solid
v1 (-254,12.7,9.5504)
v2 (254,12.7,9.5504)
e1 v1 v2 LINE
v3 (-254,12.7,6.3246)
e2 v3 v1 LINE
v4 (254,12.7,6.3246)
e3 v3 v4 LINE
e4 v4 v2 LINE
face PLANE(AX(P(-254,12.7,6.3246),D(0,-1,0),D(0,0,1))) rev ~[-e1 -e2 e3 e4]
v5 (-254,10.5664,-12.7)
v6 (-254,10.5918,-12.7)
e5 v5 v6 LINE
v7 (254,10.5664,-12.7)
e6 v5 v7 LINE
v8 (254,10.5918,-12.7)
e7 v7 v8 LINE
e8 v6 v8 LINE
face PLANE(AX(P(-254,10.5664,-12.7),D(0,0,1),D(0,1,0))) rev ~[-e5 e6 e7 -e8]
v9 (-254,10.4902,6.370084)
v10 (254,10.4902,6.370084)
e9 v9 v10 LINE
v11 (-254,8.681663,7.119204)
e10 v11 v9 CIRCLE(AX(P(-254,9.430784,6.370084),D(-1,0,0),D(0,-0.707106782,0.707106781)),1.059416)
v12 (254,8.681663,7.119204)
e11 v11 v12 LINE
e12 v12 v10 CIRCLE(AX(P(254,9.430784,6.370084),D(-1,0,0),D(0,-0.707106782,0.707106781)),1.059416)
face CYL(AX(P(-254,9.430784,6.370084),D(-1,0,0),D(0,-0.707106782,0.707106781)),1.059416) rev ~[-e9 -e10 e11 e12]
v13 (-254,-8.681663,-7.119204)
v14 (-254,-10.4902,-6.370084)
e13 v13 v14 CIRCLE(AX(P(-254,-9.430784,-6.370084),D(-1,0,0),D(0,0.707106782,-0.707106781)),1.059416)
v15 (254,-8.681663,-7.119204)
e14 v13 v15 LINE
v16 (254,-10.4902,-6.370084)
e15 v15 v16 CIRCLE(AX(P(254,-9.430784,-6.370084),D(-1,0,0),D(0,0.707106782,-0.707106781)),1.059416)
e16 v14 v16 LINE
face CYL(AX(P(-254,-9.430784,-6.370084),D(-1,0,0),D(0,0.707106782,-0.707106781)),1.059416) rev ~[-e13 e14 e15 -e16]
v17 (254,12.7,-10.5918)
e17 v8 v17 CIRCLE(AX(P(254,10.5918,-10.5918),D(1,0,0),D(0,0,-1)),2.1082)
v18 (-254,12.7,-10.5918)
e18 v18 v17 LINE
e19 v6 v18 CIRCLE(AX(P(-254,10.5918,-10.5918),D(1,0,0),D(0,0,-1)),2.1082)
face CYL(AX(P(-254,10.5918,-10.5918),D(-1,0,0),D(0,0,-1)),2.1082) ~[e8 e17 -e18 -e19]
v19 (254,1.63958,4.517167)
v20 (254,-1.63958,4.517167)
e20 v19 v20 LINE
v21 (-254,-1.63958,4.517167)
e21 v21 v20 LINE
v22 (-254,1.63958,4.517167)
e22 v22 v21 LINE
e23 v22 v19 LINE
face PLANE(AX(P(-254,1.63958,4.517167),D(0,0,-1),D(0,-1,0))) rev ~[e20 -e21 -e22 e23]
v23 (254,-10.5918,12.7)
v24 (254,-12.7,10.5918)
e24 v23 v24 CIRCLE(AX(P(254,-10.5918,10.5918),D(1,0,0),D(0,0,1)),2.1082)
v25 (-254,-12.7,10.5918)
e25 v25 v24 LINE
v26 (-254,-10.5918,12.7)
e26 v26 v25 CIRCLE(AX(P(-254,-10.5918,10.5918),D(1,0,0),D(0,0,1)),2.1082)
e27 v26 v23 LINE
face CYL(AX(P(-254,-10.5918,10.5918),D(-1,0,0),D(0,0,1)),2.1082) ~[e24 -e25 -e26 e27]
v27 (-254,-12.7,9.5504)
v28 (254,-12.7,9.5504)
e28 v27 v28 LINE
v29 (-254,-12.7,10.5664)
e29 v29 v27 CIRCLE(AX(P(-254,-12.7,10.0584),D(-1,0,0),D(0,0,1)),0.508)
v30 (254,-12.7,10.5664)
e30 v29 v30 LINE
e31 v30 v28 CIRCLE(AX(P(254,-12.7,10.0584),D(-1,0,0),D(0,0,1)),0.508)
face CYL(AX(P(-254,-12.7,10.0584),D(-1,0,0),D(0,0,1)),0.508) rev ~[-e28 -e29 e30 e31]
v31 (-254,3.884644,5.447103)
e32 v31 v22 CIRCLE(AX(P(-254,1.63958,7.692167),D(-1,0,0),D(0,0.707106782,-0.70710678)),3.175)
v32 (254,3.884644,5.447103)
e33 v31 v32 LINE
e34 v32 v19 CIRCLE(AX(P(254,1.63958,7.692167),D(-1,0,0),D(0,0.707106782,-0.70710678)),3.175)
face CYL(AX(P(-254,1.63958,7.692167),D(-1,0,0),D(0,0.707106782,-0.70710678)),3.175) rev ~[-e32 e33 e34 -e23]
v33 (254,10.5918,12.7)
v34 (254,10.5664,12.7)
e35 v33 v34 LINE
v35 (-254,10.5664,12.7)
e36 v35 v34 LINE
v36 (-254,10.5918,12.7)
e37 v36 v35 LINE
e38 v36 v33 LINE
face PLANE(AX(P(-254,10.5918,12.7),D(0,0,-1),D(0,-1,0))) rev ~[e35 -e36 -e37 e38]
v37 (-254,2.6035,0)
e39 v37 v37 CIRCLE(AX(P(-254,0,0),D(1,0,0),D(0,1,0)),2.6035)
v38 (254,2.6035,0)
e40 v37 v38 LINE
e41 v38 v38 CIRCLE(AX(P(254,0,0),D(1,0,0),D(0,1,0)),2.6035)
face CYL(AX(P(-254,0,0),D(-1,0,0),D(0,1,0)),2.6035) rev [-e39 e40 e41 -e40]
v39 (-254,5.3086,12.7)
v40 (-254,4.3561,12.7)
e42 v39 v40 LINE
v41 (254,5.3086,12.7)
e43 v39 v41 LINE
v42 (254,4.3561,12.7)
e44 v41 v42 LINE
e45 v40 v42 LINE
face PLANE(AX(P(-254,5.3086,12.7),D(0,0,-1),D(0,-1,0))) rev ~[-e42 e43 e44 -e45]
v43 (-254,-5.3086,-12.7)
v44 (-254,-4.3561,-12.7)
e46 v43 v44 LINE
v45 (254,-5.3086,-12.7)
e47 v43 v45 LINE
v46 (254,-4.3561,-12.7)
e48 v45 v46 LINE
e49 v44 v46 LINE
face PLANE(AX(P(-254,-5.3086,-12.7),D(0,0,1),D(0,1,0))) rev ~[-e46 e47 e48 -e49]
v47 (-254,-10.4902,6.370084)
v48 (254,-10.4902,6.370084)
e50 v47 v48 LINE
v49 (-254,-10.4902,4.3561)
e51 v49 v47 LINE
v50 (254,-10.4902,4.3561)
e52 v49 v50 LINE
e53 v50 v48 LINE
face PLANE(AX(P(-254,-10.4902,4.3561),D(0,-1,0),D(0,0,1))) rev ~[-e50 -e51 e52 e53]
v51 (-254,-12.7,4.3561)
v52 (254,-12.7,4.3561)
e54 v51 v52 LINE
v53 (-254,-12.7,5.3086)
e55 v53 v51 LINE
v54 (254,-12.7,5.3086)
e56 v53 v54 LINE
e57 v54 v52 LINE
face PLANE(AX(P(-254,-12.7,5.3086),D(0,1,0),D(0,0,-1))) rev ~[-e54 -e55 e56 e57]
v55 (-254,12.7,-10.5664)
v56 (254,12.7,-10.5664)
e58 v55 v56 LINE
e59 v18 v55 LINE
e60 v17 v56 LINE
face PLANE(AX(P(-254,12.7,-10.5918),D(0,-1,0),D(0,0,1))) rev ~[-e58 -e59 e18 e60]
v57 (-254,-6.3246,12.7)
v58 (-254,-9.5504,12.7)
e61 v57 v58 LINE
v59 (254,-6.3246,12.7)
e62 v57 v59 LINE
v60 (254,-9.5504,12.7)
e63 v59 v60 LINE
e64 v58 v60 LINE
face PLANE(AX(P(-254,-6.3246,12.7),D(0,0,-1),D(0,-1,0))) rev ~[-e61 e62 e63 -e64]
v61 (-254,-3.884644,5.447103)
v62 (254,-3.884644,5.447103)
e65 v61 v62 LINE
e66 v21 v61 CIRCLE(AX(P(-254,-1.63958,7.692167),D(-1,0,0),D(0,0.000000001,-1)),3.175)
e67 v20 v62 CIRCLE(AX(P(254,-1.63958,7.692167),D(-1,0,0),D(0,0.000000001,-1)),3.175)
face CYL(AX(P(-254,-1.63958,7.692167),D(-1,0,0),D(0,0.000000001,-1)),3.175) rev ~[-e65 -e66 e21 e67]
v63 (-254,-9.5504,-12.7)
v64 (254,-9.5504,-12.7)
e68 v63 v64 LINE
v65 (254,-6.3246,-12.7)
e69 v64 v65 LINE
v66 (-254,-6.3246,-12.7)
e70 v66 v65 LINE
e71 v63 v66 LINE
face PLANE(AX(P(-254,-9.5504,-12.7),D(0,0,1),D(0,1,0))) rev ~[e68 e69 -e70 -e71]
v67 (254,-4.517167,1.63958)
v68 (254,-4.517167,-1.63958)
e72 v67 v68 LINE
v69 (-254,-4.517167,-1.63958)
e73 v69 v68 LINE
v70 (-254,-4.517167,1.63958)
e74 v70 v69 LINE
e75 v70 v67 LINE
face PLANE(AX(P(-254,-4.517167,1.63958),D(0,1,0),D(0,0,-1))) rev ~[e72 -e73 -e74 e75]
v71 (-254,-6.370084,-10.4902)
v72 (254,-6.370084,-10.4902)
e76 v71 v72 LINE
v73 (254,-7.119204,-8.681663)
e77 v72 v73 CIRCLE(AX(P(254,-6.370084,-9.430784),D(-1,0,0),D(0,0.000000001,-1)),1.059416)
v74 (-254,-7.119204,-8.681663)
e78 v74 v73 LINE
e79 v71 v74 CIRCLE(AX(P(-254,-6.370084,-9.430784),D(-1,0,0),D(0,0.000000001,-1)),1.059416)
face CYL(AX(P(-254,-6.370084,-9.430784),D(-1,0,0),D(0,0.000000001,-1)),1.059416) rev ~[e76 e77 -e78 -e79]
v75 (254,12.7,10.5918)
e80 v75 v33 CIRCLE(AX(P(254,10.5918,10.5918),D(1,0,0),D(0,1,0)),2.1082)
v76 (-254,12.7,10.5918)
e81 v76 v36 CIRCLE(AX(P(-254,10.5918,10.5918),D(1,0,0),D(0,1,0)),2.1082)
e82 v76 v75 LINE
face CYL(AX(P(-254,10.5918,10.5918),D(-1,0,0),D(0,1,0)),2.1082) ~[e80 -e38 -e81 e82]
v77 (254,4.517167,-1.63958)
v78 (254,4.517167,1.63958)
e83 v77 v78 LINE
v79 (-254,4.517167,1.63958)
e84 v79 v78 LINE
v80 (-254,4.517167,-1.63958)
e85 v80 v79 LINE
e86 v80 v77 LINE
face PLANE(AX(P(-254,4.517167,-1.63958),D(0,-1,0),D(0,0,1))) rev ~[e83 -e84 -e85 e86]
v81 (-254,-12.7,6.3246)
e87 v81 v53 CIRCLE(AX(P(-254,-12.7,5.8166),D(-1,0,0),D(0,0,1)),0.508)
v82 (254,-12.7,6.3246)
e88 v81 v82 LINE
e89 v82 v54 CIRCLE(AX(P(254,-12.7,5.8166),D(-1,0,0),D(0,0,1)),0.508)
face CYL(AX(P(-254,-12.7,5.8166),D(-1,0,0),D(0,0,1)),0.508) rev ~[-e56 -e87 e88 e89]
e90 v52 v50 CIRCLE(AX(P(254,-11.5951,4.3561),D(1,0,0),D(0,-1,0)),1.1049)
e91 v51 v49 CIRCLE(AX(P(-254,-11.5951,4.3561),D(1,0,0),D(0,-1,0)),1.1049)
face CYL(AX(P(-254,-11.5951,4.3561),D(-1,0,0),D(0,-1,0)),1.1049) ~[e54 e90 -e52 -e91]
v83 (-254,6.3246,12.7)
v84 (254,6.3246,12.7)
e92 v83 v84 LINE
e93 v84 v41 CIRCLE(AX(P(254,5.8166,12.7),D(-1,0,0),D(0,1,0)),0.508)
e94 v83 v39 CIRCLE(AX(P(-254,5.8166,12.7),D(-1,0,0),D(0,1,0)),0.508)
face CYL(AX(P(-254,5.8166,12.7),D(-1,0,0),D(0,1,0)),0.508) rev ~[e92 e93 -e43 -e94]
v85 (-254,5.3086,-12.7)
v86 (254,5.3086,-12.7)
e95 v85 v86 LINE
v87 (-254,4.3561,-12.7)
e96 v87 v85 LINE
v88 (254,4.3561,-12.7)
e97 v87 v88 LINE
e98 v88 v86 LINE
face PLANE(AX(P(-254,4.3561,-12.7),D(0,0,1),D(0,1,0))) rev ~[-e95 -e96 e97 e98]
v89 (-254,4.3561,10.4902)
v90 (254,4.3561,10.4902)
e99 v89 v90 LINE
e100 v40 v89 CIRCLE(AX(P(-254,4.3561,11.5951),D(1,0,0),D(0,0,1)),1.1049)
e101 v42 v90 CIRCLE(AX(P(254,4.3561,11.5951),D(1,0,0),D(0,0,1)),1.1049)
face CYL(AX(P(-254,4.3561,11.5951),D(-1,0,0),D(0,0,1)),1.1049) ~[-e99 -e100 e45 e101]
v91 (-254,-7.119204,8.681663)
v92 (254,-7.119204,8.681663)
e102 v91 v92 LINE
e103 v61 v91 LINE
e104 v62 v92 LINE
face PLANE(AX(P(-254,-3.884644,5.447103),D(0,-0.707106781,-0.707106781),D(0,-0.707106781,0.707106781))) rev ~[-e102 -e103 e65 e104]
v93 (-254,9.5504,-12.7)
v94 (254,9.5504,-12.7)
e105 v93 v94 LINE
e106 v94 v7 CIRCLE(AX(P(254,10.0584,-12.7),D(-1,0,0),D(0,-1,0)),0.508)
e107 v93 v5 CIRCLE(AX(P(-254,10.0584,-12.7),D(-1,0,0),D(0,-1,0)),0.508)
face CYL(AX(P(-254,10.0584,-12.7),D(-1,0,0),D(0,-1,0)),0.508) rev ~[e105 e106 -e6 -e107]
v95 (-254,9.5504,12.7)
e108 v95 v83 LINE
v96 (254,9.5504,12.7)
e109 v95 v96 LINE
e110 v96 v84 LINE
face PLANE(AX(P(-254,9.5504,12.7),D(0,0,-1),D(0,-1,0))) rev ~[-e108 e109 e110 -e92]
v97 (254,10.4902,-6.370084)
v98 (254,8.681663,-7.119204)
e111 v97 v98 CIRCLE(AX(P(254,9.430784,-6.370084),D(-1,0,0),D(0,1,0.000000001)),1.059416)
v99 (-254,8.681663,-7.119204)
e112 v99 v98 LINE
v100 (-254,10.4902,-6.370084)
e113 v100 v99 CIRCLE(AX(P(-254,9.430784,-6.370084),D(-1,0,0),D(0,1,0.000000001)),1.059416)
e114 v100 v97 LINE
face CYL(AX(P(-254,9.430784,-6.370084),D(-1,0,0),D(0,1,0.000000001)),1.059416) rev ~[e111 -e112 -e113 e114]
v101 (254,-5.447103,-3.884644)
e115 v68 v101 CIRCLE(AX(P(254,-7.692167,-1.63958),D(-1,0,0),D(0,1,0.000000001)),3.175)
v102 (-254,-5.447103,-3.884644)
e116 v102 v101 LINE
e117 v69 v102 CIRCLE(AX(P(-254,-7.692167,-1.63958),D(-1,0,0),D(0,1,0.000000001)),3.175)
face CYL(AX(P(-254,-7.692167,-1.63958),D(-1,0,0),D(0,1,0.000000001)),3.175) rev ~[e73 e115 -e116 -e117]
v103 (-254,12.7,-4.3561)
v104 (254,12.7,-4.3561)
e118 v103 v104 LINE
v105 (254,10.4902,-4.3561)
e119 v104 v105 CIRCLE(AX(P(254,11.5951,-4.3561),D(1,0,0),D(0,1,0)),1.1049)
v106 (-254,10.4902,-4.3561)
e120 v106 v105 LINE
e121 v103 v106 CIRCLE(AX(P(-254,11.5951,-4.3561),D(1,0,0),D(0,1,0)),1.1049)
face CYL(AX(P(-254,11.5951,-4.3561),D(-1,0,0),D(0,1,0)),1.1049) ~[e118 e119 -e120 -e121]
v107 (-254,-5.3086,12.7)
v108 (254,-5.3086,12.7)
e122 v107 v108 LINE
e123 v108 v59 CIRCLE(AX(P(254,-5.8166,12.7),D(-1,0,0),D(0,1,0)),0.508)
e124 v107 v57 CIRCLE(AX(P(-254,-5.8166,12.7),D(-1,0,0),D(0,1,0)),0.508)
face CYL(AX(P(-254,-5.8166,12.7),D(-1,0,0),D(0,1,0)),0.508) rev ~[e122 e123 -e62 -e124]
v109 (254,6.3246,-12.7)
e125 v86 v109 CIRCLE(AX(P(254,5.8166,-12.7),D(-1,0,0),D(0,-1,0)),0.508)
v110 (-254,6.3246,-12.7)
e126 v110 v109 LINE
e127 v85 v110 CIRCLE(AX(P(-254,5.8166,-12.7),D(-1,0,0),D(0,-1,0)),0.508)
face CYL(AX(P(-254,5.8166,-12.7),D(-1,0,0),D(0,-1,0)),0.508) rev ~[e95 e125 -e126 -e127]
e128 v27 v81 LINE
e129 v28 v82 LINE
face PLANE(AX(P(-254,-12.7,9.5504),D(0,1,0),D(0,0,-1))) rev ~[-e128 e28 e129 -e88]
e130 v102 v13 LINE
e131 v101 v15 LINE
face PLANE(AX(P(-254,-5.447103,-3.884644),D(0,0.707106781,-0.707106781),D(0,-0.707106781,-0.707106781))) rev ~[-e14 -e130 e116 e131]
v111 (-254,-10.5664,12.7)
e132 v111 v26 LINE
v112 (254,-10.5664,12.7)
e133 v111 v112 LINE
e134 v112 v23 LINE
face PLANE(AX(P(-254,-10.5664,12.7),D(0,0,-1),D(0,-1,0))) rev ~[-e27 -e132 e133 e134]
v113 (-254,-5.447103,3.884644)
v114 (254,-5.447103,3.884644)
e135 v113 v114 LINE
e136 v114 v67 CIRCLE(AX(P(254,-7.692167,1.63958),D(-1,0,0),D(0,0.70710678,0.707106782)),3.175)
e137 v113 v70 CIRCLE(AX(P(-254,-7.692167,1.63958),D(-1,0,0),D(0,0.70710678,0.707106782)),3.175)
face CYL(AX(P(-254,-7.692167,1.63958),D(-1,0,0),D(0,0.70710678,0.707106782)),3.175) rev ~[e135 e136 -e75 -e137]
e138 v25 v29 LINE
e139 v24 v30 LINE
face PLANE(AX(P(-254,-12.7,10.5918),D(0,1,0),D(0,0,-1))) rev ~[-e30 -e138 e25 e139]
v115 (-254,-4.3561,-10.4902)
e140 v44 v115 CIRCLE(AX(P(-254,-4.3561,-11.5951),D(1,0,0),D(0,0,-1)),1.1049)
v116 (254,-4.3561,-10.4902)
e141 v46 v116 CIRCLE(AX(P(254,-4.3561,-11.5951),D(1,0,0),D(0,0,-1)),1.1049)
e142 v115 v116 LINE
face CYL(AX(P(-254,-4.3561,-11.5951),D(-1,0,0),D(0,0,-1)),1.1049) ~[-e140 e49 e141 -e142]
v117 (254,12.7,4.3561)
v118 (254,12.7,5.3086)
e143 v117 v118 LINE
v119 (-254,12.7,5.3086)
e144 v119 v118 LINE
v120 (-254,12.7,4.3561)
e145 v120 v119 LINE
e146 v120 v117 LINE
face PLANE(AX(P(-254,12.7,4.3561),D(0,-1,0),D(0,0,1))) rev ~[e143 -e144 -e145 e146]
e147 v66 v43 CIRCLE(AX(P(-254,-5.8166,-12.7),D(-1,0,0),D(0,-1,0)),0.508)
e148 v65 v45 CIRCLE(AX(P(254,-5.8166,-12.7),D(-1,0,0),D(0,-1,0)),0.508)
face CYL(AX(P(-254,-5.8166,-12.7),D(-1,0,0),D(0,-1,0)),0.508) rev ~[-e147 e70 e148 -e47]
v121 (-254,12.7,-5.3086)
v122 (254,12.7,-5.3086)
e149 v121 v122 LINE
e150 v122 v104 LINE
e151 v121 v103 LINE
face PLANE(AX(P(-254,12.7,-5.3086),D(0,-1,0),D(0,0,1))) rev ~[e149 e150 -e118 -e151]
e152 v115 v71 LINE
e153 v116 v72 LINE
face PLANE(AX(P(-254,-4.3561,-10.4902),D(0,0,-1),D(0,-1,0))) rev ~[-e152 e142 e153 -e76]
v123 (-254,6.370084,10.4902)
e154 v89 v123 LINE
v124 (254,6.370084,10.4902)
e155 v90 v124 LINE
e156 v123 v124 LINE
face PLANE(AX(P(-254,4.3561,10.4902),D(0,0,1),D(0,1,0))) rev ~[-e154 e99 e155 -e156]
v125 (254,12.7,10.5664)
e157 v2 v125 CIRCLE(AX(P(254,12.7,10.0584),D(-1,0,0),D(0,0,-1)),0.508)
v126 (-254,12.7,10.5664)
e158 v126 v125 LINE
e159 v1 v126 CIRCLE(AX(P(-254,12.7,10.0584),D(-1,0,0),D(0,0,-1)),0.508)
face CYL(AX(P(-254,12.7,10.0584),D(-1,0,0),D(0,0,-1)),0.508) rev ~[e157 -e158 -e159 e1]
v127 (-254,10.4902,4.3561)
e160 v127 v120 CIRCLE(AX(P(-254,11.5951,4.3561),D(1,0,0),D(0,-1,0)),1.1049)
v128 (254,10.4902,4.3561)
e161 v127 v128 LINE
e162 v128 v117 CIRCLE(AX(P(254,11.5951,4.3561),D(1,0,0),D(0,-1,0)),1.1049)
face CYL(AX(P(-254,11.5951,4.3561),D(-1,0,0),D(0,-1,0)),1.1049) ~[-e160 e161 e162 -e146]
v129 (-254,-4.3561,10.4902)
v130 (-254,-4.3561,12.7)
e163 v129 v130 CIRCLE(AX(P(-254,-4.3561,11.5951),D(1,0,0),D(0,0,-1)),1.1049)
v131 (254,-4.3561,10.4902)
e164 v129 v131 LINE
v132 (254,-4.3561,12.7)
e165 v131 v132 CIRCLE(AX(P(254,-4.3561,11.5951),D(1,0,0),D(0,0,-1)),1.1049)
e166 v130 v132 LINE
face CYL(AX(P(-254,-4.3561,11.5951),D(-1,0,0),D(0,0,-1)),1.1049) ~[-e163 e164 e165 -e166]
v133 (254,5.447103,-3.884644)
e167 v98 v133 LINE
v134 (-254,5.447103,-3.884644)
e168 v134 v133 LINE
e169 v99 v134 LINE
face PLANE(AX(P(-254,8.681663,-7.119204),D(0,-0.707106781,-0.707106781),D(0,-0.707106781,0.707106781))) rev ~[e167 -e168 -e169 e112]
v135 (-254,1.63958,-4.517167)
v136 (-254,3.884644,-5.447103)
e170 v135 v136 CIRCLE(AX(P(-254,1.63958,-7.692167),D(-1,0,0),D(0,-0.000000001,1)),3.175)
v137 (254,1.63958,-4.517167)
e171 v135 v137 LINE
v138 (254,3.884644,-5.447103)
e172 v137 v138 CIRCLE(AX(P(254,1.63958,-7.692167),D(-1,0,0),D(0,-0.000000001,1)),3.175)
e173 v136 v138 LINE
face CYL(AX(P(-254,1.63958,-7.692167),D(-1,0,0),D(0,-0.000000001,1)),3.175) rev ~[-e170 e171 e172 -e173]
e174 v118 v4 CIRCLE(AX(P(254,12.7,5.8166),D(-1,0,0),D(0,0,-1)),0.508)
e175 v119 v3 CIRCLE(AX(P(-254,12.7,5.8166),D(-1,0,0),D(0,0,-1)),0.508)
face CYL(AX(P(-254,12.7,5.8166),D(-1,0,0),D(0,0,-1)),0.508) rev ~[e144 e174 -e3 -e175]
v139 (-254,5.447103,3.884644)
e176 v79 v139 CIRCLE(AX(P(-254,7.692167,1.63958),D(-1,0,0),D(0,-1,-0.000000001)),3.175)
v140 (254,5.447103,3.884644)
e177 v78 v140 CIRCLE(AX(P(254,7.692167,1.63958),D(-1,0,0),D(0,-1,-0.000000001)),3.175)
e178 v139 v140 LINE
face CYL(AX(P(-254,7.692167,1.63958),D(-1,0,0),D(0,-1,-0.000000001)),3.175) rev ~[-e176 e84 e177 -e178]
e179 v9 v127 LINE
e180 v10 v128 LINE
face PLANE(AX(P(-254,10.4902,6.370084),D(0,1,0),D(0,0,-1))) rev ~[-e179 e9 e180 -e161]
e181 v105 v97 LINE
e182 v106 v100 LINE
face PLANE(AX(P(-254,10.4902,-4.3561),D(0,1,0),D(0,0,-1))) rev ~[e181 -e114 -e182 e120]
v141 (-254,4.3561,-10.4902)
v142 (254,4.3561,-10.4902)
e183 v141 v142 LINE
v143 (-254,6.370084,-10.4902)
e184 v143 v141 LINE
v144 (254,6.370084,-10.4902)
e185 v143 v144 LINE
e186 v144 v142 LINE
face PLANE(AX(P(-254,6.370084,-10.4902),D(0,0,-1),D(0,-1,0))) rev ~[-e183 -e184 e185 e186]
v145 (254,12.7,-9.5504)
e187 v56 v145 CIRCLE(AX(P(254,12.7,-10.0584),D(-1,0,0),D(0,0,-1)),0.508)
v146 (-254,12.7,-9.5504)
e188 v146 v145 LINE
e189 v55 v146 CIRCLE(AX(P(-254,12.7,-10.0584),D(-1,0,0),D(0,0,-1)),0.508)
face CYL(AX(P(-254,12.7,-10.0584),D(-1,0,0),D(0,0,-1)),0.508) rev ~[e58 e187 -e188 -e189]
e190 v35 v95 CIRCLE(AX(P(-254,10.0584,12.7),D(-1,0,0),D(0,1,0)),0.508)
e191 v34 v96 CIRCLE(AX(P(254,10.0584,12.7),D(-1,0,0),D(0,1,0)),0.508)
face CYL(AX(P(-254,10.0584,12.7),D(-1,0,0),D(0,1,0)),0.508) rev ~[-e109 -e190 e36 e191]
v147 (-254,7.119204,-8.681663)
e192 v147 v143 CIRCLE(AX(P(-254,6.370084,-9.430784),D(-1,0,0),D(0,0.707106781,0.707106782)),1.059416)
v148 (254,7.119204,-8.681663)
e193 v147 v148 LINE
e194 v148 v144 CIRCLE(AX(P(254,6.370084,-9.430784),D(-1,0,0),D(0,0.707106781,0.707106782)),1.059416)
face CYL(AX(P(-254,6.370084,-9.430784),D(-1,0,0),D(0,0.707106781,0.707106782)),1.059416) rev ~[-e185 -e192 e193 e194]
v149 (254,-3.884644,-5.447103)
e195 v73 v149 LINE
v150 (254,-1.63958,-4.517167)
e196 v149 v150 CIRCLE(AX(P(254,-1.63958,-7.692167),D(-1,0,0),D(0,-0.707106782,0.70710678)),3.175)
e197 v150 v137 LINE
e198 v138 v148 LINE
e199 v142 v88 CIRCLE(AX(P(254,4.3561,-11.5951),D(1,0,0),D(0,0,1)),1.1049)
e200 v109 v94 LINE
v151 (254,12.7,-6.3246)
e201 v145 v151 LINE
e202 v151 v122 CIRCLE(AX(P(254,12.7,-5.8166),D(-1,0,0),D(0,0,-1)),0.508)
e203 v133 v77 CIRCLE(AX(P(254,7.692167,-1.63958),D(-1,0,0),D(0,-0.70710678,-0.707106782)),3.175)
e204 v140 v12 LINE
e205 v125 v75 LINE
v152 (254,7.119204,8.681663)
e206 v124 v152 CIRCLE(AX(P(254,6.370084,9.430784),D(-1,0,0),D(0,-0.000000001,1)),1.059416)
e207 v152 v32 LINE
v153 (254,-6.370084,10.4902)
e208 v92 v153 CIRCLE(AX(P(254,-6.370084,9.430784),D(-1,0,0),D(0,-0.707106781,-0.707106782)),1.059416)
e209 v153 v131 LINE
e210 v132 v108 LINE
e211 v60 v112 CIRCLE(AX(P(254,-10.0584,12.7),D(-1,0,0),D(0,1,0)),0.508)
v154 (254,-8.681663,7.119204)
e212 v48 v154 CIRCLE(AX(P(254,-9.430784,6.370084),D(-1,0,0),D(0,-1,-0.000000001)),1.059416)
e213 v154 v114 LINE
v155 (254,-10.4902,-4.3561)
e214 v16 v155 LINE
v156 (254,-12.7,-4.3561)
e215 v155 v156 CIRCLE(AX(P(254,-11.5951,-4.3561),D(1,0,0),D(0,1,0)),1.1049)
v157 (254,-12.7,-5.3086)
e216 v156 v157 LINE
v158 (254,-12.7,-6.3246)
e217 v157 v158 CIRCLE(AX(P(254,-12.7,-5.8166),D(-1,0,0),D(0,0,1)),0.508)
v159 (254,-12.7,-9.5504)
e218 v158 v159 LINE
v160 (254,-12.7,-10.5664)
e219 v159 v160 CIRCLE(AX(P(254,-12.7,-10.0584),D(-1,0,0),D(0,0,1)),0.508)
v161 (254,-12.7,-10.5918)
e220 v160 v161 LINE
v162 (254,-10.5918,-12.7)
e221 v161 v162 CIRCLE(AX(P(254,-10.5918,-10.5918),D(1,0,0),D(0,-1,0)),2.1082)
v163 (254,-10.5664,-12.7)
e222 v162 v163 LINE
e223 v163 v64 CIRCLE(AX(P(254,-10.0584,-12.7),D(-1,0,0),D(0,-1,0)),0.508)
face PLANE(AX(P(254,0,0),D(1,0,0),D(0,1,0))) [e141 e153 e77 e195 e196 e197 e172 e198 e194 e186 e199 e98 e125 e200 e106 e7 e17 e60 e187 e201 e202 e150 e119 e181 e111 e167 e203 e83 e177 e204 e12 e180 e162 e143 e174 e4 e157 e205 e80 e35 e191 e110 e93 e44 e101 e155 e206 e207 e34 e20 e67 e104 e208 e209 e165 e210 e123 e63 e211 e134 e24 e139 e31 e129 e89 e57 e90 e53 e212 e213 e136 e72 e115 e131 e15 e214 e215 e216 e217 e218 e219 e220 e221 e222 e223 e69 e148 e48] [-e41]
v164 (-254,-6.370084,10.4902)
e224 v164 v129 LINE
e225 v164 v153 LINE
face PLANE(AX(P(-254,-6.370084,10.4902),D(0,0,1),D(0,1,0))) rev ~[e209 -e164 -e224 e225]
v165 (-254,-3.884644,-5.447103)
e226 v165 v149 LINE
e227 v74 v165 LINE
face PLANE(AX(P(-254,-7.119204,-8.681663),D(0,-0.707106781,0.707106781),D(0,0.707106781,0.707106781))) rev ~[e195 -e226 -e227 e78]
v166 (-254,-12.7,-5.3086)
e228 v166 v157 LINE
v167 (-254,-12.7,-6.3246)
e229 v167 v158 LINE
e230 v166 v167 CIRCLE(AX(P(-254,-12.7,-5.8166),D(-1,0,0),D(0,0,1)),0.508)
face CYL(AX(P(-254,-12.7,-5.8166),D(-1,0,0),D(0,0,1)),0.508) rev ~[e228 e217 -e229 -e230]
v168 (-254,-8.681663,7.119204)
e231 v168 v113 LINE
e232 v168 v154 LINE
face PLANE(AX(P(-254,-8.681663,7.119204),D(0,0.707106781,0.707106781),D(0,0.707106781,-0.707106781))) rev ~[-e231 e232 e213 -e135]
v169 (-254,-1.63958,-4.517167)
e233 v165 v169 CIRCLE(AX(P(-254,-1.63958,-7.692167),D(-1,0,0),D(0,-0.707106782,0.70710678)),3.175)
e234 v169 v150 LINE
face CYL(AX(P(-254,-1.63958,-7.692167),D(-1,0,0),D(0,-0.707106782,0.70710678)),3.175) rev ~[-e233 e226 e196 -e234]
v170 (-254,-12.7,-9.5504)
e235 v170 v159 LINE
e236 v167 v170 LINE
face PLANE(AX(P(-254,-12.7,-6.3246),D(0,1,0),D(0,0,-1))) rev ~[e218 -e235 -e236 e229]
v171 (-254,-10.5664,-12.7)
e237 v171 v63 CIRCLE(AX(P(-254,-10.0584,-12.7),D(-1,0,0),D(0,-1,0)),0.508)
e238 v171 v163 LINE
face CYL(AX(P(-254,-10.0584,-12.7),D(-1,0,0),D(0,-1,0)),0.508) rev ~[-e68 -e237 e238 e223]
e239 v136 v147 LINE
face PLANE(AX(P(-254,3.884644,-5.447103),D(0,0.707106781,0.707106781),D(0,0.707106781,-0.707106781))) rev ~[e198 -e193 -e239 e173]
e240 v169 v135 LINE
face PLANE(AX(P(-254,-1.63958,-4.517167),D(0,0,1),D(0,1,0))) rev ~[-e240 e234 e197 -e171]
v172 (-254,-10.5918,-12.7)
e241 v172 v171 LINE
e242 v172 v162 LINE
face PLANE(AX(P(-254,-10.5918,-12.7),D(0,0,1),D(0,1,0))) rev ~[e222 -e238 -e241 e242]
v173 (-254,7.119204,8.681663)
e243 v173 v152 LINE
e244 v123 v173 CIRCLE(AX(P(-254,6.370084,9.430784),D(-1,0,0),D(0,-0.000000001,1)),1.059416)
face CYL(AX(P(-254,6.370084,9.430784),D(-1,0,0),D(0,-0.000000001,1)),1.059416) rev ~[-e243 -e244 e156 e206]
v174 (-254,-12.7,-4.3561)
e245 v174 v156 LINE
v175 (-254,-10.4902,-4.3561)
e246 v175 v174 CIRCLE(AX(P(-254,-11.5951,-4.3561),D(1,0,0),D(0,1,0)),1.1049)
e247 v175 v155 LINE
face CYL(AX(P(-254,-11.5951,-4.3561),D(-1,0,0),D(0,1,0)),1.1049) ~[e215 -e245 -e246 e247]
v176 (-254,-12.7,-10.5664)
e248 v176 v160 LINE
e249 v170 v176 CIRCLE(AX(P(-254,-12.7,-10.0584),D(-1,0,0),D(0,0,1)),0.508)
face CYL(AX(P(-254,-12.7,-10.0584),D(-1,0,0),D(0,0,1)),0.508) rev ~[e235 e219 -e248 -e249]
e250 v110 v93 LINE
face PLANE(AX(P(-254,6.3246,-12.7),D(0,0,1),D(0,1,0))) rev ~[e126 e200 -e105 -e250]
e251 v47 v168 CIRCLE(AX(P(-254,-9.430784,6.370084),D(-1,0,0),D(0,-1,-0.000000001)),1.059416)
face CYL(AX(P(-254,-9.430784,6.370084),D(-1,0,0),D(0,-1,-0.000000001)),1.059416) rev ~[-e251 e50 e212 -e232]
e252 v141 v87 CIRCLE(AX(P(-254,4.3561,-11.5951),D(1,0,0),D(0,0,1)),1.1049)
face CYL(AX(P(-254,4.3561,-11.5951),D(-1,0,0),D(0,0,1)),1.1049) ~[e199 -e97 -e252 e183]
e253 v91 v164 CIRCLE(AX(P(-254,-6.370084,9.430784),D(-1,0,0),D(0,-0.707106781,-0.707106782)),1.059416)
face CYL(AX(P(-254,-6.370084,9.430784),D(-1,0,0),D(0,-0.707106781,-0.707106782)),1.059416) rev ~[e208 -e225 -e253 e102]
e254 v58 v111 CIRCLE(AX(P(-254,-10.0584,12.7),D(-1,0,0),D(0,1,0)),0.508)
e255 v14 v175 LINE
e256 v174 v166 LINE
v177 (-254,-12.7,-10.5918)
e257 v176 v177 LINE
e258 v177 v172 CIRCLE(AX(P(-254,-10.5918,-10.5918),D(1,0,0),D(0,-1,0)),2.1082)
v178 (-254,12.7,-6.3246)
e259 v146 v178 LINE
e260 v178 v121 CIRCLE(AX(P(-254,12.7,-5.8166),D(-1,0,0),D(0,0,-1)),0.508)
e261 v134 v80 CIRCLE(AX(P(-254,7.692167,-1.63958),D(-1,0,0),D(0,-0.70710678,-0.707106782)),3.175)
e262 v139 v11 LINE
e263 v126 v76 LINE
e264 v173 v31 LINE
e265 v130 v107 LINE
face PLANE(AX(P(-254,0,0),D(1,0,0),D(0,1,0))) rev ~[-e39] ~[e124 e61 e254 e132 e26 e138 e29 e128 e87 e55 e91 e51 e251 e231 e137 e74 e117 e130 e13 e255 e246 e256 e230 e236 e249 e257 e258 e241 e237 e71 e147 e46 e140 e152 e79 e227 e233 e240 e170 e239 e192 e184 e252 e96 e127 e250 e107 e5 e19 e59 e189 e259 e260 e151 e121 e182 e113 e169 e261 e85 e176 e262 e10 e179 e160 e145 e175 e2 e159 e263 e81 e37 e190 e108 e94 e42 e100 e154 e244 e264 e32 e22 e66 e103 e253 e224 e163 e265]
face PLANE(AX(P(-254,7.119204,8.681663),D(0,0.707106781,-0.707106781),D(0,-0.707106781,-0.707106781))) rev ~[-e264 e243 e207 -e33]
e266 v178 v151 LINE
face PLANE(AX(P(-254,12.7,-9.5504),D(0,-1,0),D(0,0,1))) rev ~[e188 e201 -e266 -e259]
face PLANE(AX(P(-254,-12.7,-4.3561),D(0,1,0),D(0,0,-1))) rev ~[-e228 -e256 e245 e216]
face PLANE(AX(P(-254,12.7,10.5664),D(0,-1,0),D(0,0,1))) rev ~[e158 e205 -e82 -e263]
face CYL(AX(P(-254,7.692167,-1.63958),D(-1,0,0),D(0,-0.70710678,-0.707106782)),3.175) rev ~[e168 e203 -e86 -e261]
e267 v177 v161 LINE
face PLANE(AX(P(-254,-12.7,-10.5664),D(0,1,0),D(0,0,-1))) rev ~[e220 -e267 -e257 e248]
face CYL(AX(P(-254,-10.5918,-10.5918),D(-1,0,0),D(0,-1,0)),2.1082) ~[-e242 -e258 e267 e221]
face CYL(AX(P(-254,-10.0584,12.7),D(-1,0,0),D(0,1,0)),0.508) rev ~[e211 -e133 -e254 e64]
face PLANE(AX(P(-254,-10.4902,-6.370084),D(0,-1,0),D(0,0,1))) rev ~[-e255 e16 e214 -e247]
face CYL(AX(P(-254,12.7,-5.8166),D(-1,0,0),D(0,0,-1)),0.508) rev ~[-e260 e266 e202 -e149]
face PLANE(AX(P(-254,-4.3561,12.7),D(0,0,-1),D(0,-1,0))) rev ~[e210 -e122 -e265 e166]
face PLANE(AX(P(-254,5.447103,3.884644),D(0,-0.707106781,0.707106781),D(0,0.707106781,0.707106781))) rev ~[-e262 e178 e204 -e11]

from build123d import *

# Parameters (mm, degrees)
SKETCH11_R              = 2.6035
FRACTIONAL_1010_1_DEPTH = 508


with BuildPart() as part:
    # Sketch11 → Fractional 1010(1) (new body)
    with BuildSketch(Plane.YZ.offset(-254)):
        with BuildLine():
            Line((10.5918, 12.7), (10.5664, 12.7))
            ThreePointArc((10.5664, 12.7), (10.0584, 12.192), (9.5504, 12.7))
            Line((9.5504, 12.7), (6.3246, 12.7))
            ThreePointArc((6.3246, 12.7), (5.8166, 12.192), (5.3086, 12.7))
            Line((5.3086, 12.7), (4.3561, 12.7))
            ThreePointArc((4.3561, 12.7), (3.2512, 11.5951), (4.3561, 10.4902))
            Line((4.3561, 10.4902), (6.370083786, 10.4902))
            ThreePointArc((6.370083786, 10.4902), (7.348856743, 9.836204819), (7.119204175, 8.681663397))
            Line((7.119204175, 8.681663397), (3.88464389, 5.447103113))
            ThreePointArc((3.88464389, 5.447103113), (2.854599758, 4.758849627), (1.63957986, 4.517167143))
            Line((1.63957986, 4.517167143), (-1.63957986, 4.517167143))
            ThreePointArc((-1.63957986, 4.517167143), (-2.854599758, 4.758849627), (-3.88464389, 5.447103113))
            Line((-3.88464389, 5.447103113), (-7.119204175, 8.681663397))
            ThreePointArc((-7.119204175, 8.681663397), (-7.348856743, 9.836204819), (-6.370083786, 10.4902))
            Line((-6.370083786, 10.4902), (-4.3561, 10.4902))
            ThreePointArc((-4.3561, 10.4902), (-3.2512, 11.5951), (-4.3561, 12.7))
            Line((-4.3561, 12.7), (-5.3086, 12.7))
            ThreePointArc((-5.3086, 12.7), (-5.8166, 12.192), (-6.3246, 12.7))
            Line((-6.3246, 12.7), (-9.5504, 12.7))
            ThreePointArc((-9.5504, 12.7), (-10.0584, 12.192), (-10.5664, 12.7))
            Line((-10.5664, 12.7), (-10.5918, 12.7))
            ThreePointArc((-10.5918, 12.7), (-12.082522516, 12.082522516), (-12.7, 10.5918))
            Line((-12.7, 10.5918), (-12.7, 10.5664))
            ThreePointArc((-12.7, 10.5664), (-12.192, 10.0584), (-12.7, 9.5504))
            Line((-12.7, 9.5504), (-12.7, 6.3246))
            ThreePointArc((-12.7, 6.3246), (-12.192, 5.8166), (-12.7, 5.3086))
            Line((-12.7, 5.3086), (-12.7, 4.3561))
            ThreePointArc((-12.7, 4.3561), (-11.5951, 3.2512), (-10.4902, 4.3561))
            Line((-10.4902, 4.3561), (-10.4902, 6.370083786))
            ThreePointArc((-10.4902, 6.370083786), (-9.836204819, 7.348856743), (-8.681663397, 7.119204175))
            Line((-8.681663397, 7.119204175), (-5.447103113, 3.88464389))
            ThreePointArc((-5.447103113, 3.88464389), (-4.758849627, 2.854599758), (-4.517167143, 1.63957986))
            Line((-4.517167143, 1.63957986), (-4.517167143, -1.63957986))
            ThreePointArc((-4.517167143, -1.63957986), (-4.758849627, -2.854599758), (-5.447103113, -3.88464389))
            Line((-5.447103113, -3.88464389), (-8.681663397, -7.119204175))
            ThreePointArc((-8.681663397, -7.119204175), (-9.836204819, -7.348856743), (-10.4902, -6.370083786))
            Line((-10.4902, -6.370083786), (-10.4902, -4.3561))
            ThreePointArc((-10.4902, -4.3561), (-11.5951, -3.2512), (-12.7, -4.3561))
            Line((-12.7, -4.3561), (-12.7, -5.3086))
            ThreePointArc((-12.7, -5.3086), (-12.192, -5.8166), (-12.7, -6.3246))
            Line((-12.7, -6.3246), (-12.7, -9.5504))
            ThreePointArc((-12.7, -9.5504), (-12.192, -10.0584), (-12.7, -10.5664))
            Line((-12.7, -10.5664), (-12.7, -10.5918))
            ThreePointArc((-12.7, -10.5918), (-12.082522516, -12.082522516), (-10.5918, -12.7))
            Line((-10.5918, -12.7), (-10.5664, -12.7))
            ThreePointArc((-10.5664, -12.7), (-10.0584, -12.192), (-9.5504, -12.7))
            Line((-9.5504, -12.7), (-6.3246, -12.7))
            ThreePointArc((-6.3246, -12.7), (-5.8166, -12.192), (-5.3086, -12.7))
            Line((-5.3086, -12.7), (-4.3561, -12.7))
            ThreePointArc((-4.3561, -12.7), (-3.2512, -11.5951), (-4.3561, -10.4902))
            Line((-4.3561, -10.4902), (-6.370083786, -10.4902))
            ThreePointArc((-6.370083786, -10.4902), (-7.348856743, -9.836204819), (-7.119204175, -8.681663397))
            Line((-7.119204175, -8.681663397), (-3.88464389, -5.447103113))
            ThreePointArc((-3.88464389, -5.447103113), (-2.854599758, -4.758849627), (-1.63957986, -4.517167143))
            Line((-1.63957986, -4.517167143), (1.63957986, -4.517167143))
            ThreePointArc((1.63957986, -4.517167143), (2.854599758, -4.758849627), (3.88464389, -5.447103113))
            Line((3.88464389, -5.447103113), (7.119204175, -8.681663397))
            ThreePointArc((7.119204175, -8.681663397), (7.348856743, -9.836204819), (6.370083786, -10.4902))
            Line((6.370083786, -10.4902), (4.3561, -10.4902))
            ThreePointArc((4.3561, -10.4902), (3.2512, -11.5951), (4.3561, -12.7))
            Line((4.3561, -12.7), (5.3086, -12.7))
            ThreePointArc((5.3086, -12.7), (5.8166, -12.192), (6.3246, -12.7))
            Line((6.3246, -12.7), (9.5504, -12.7))
            ThreePointArc((9.5504, -12.7), (10.0584, -12.192), (10.5664, -12.7))
            Line((10.5664, -12.7), (10.5918, -12.7))
            ThreePointArc((10.5918, -12.7), (12.082522516, -12.082522516), (12.7, -10.5918))
            Line((12.7, -10.5918), (12.7, -10.5664))
            ThreePointArc((12.7, -10.5664), (12.192, -10.0584), (12.7, -9.5504))
            Line((12.7, -9.5504), (12.7, -6.3246))
            ThreePointArc((12.7, -6.3246), (12.192, -5.8166), (12.7, -5.3086))
            Line((12.7, -5.3086), (12.7, -4.3561))
            ThreePointArc((12.7, -4.3561), (11.5951, -3.2512), (10.4902, -4.3561))
            Line((10.4902, -4.3561), (10.4902, -6.370083786))
            ThreePointArc((10.4902, -6.370083786), (9.836204819, -7.348856743), (8.681663397, -7.119204175))
            Line((8.681663397, -7.119204175), (5.447103113, -3.88464389))
            ThreePointArc((5.447103113, -3.88464389), (4.758849627, -2.854599758), (4.517167143, -1.63957986))
            Line((4.517167143, -1.63957986), (4.517167143, 1.63957986))
            ThreePointArc((4.517167143, 1.63957986), (4.758849627, 2.854599758), (5.447103113, 3.88464389))
            Line((5.447103113, 3.88464389), (8.681663397, 7.119204175))
            ThreePointArc((8.681663397, 7.119204175), (9.836204819, 7.348856743), (10.4902, 6.370083786))
            Line((10.4902, 6.370083786), (10.4902, 4.3561))
            ThreePointArc((10.4902, 4.3561), (11.5951, 3.2512), (12.7, 4.3561))
            Line((12.7, 4.3561), (12.7, 5.3086))
            ThreePointArc((12.7, 5.3086), (12.192, 5.8166), (12.7, 6.3246))
            Line((12.7, 6.3246), (12.7, 9.5504))
            ThreePointArc((12.7, 9.5504), (12.192, 10.0584), (12.7, 10.5664))
            Line((12.7, 10.5664), (12.7, 10.5918))
            ThreePointArc((12.7, 10.5918), (12.082522516, 12.082522516), (10.5918, 12.7))
        make_face()
        Circle(SKETCH11_R, mode=Mode.SUBTRACT)
    extrude(amount=FRACTIONAL_1010_1_DEPTH)


solid = part.part
